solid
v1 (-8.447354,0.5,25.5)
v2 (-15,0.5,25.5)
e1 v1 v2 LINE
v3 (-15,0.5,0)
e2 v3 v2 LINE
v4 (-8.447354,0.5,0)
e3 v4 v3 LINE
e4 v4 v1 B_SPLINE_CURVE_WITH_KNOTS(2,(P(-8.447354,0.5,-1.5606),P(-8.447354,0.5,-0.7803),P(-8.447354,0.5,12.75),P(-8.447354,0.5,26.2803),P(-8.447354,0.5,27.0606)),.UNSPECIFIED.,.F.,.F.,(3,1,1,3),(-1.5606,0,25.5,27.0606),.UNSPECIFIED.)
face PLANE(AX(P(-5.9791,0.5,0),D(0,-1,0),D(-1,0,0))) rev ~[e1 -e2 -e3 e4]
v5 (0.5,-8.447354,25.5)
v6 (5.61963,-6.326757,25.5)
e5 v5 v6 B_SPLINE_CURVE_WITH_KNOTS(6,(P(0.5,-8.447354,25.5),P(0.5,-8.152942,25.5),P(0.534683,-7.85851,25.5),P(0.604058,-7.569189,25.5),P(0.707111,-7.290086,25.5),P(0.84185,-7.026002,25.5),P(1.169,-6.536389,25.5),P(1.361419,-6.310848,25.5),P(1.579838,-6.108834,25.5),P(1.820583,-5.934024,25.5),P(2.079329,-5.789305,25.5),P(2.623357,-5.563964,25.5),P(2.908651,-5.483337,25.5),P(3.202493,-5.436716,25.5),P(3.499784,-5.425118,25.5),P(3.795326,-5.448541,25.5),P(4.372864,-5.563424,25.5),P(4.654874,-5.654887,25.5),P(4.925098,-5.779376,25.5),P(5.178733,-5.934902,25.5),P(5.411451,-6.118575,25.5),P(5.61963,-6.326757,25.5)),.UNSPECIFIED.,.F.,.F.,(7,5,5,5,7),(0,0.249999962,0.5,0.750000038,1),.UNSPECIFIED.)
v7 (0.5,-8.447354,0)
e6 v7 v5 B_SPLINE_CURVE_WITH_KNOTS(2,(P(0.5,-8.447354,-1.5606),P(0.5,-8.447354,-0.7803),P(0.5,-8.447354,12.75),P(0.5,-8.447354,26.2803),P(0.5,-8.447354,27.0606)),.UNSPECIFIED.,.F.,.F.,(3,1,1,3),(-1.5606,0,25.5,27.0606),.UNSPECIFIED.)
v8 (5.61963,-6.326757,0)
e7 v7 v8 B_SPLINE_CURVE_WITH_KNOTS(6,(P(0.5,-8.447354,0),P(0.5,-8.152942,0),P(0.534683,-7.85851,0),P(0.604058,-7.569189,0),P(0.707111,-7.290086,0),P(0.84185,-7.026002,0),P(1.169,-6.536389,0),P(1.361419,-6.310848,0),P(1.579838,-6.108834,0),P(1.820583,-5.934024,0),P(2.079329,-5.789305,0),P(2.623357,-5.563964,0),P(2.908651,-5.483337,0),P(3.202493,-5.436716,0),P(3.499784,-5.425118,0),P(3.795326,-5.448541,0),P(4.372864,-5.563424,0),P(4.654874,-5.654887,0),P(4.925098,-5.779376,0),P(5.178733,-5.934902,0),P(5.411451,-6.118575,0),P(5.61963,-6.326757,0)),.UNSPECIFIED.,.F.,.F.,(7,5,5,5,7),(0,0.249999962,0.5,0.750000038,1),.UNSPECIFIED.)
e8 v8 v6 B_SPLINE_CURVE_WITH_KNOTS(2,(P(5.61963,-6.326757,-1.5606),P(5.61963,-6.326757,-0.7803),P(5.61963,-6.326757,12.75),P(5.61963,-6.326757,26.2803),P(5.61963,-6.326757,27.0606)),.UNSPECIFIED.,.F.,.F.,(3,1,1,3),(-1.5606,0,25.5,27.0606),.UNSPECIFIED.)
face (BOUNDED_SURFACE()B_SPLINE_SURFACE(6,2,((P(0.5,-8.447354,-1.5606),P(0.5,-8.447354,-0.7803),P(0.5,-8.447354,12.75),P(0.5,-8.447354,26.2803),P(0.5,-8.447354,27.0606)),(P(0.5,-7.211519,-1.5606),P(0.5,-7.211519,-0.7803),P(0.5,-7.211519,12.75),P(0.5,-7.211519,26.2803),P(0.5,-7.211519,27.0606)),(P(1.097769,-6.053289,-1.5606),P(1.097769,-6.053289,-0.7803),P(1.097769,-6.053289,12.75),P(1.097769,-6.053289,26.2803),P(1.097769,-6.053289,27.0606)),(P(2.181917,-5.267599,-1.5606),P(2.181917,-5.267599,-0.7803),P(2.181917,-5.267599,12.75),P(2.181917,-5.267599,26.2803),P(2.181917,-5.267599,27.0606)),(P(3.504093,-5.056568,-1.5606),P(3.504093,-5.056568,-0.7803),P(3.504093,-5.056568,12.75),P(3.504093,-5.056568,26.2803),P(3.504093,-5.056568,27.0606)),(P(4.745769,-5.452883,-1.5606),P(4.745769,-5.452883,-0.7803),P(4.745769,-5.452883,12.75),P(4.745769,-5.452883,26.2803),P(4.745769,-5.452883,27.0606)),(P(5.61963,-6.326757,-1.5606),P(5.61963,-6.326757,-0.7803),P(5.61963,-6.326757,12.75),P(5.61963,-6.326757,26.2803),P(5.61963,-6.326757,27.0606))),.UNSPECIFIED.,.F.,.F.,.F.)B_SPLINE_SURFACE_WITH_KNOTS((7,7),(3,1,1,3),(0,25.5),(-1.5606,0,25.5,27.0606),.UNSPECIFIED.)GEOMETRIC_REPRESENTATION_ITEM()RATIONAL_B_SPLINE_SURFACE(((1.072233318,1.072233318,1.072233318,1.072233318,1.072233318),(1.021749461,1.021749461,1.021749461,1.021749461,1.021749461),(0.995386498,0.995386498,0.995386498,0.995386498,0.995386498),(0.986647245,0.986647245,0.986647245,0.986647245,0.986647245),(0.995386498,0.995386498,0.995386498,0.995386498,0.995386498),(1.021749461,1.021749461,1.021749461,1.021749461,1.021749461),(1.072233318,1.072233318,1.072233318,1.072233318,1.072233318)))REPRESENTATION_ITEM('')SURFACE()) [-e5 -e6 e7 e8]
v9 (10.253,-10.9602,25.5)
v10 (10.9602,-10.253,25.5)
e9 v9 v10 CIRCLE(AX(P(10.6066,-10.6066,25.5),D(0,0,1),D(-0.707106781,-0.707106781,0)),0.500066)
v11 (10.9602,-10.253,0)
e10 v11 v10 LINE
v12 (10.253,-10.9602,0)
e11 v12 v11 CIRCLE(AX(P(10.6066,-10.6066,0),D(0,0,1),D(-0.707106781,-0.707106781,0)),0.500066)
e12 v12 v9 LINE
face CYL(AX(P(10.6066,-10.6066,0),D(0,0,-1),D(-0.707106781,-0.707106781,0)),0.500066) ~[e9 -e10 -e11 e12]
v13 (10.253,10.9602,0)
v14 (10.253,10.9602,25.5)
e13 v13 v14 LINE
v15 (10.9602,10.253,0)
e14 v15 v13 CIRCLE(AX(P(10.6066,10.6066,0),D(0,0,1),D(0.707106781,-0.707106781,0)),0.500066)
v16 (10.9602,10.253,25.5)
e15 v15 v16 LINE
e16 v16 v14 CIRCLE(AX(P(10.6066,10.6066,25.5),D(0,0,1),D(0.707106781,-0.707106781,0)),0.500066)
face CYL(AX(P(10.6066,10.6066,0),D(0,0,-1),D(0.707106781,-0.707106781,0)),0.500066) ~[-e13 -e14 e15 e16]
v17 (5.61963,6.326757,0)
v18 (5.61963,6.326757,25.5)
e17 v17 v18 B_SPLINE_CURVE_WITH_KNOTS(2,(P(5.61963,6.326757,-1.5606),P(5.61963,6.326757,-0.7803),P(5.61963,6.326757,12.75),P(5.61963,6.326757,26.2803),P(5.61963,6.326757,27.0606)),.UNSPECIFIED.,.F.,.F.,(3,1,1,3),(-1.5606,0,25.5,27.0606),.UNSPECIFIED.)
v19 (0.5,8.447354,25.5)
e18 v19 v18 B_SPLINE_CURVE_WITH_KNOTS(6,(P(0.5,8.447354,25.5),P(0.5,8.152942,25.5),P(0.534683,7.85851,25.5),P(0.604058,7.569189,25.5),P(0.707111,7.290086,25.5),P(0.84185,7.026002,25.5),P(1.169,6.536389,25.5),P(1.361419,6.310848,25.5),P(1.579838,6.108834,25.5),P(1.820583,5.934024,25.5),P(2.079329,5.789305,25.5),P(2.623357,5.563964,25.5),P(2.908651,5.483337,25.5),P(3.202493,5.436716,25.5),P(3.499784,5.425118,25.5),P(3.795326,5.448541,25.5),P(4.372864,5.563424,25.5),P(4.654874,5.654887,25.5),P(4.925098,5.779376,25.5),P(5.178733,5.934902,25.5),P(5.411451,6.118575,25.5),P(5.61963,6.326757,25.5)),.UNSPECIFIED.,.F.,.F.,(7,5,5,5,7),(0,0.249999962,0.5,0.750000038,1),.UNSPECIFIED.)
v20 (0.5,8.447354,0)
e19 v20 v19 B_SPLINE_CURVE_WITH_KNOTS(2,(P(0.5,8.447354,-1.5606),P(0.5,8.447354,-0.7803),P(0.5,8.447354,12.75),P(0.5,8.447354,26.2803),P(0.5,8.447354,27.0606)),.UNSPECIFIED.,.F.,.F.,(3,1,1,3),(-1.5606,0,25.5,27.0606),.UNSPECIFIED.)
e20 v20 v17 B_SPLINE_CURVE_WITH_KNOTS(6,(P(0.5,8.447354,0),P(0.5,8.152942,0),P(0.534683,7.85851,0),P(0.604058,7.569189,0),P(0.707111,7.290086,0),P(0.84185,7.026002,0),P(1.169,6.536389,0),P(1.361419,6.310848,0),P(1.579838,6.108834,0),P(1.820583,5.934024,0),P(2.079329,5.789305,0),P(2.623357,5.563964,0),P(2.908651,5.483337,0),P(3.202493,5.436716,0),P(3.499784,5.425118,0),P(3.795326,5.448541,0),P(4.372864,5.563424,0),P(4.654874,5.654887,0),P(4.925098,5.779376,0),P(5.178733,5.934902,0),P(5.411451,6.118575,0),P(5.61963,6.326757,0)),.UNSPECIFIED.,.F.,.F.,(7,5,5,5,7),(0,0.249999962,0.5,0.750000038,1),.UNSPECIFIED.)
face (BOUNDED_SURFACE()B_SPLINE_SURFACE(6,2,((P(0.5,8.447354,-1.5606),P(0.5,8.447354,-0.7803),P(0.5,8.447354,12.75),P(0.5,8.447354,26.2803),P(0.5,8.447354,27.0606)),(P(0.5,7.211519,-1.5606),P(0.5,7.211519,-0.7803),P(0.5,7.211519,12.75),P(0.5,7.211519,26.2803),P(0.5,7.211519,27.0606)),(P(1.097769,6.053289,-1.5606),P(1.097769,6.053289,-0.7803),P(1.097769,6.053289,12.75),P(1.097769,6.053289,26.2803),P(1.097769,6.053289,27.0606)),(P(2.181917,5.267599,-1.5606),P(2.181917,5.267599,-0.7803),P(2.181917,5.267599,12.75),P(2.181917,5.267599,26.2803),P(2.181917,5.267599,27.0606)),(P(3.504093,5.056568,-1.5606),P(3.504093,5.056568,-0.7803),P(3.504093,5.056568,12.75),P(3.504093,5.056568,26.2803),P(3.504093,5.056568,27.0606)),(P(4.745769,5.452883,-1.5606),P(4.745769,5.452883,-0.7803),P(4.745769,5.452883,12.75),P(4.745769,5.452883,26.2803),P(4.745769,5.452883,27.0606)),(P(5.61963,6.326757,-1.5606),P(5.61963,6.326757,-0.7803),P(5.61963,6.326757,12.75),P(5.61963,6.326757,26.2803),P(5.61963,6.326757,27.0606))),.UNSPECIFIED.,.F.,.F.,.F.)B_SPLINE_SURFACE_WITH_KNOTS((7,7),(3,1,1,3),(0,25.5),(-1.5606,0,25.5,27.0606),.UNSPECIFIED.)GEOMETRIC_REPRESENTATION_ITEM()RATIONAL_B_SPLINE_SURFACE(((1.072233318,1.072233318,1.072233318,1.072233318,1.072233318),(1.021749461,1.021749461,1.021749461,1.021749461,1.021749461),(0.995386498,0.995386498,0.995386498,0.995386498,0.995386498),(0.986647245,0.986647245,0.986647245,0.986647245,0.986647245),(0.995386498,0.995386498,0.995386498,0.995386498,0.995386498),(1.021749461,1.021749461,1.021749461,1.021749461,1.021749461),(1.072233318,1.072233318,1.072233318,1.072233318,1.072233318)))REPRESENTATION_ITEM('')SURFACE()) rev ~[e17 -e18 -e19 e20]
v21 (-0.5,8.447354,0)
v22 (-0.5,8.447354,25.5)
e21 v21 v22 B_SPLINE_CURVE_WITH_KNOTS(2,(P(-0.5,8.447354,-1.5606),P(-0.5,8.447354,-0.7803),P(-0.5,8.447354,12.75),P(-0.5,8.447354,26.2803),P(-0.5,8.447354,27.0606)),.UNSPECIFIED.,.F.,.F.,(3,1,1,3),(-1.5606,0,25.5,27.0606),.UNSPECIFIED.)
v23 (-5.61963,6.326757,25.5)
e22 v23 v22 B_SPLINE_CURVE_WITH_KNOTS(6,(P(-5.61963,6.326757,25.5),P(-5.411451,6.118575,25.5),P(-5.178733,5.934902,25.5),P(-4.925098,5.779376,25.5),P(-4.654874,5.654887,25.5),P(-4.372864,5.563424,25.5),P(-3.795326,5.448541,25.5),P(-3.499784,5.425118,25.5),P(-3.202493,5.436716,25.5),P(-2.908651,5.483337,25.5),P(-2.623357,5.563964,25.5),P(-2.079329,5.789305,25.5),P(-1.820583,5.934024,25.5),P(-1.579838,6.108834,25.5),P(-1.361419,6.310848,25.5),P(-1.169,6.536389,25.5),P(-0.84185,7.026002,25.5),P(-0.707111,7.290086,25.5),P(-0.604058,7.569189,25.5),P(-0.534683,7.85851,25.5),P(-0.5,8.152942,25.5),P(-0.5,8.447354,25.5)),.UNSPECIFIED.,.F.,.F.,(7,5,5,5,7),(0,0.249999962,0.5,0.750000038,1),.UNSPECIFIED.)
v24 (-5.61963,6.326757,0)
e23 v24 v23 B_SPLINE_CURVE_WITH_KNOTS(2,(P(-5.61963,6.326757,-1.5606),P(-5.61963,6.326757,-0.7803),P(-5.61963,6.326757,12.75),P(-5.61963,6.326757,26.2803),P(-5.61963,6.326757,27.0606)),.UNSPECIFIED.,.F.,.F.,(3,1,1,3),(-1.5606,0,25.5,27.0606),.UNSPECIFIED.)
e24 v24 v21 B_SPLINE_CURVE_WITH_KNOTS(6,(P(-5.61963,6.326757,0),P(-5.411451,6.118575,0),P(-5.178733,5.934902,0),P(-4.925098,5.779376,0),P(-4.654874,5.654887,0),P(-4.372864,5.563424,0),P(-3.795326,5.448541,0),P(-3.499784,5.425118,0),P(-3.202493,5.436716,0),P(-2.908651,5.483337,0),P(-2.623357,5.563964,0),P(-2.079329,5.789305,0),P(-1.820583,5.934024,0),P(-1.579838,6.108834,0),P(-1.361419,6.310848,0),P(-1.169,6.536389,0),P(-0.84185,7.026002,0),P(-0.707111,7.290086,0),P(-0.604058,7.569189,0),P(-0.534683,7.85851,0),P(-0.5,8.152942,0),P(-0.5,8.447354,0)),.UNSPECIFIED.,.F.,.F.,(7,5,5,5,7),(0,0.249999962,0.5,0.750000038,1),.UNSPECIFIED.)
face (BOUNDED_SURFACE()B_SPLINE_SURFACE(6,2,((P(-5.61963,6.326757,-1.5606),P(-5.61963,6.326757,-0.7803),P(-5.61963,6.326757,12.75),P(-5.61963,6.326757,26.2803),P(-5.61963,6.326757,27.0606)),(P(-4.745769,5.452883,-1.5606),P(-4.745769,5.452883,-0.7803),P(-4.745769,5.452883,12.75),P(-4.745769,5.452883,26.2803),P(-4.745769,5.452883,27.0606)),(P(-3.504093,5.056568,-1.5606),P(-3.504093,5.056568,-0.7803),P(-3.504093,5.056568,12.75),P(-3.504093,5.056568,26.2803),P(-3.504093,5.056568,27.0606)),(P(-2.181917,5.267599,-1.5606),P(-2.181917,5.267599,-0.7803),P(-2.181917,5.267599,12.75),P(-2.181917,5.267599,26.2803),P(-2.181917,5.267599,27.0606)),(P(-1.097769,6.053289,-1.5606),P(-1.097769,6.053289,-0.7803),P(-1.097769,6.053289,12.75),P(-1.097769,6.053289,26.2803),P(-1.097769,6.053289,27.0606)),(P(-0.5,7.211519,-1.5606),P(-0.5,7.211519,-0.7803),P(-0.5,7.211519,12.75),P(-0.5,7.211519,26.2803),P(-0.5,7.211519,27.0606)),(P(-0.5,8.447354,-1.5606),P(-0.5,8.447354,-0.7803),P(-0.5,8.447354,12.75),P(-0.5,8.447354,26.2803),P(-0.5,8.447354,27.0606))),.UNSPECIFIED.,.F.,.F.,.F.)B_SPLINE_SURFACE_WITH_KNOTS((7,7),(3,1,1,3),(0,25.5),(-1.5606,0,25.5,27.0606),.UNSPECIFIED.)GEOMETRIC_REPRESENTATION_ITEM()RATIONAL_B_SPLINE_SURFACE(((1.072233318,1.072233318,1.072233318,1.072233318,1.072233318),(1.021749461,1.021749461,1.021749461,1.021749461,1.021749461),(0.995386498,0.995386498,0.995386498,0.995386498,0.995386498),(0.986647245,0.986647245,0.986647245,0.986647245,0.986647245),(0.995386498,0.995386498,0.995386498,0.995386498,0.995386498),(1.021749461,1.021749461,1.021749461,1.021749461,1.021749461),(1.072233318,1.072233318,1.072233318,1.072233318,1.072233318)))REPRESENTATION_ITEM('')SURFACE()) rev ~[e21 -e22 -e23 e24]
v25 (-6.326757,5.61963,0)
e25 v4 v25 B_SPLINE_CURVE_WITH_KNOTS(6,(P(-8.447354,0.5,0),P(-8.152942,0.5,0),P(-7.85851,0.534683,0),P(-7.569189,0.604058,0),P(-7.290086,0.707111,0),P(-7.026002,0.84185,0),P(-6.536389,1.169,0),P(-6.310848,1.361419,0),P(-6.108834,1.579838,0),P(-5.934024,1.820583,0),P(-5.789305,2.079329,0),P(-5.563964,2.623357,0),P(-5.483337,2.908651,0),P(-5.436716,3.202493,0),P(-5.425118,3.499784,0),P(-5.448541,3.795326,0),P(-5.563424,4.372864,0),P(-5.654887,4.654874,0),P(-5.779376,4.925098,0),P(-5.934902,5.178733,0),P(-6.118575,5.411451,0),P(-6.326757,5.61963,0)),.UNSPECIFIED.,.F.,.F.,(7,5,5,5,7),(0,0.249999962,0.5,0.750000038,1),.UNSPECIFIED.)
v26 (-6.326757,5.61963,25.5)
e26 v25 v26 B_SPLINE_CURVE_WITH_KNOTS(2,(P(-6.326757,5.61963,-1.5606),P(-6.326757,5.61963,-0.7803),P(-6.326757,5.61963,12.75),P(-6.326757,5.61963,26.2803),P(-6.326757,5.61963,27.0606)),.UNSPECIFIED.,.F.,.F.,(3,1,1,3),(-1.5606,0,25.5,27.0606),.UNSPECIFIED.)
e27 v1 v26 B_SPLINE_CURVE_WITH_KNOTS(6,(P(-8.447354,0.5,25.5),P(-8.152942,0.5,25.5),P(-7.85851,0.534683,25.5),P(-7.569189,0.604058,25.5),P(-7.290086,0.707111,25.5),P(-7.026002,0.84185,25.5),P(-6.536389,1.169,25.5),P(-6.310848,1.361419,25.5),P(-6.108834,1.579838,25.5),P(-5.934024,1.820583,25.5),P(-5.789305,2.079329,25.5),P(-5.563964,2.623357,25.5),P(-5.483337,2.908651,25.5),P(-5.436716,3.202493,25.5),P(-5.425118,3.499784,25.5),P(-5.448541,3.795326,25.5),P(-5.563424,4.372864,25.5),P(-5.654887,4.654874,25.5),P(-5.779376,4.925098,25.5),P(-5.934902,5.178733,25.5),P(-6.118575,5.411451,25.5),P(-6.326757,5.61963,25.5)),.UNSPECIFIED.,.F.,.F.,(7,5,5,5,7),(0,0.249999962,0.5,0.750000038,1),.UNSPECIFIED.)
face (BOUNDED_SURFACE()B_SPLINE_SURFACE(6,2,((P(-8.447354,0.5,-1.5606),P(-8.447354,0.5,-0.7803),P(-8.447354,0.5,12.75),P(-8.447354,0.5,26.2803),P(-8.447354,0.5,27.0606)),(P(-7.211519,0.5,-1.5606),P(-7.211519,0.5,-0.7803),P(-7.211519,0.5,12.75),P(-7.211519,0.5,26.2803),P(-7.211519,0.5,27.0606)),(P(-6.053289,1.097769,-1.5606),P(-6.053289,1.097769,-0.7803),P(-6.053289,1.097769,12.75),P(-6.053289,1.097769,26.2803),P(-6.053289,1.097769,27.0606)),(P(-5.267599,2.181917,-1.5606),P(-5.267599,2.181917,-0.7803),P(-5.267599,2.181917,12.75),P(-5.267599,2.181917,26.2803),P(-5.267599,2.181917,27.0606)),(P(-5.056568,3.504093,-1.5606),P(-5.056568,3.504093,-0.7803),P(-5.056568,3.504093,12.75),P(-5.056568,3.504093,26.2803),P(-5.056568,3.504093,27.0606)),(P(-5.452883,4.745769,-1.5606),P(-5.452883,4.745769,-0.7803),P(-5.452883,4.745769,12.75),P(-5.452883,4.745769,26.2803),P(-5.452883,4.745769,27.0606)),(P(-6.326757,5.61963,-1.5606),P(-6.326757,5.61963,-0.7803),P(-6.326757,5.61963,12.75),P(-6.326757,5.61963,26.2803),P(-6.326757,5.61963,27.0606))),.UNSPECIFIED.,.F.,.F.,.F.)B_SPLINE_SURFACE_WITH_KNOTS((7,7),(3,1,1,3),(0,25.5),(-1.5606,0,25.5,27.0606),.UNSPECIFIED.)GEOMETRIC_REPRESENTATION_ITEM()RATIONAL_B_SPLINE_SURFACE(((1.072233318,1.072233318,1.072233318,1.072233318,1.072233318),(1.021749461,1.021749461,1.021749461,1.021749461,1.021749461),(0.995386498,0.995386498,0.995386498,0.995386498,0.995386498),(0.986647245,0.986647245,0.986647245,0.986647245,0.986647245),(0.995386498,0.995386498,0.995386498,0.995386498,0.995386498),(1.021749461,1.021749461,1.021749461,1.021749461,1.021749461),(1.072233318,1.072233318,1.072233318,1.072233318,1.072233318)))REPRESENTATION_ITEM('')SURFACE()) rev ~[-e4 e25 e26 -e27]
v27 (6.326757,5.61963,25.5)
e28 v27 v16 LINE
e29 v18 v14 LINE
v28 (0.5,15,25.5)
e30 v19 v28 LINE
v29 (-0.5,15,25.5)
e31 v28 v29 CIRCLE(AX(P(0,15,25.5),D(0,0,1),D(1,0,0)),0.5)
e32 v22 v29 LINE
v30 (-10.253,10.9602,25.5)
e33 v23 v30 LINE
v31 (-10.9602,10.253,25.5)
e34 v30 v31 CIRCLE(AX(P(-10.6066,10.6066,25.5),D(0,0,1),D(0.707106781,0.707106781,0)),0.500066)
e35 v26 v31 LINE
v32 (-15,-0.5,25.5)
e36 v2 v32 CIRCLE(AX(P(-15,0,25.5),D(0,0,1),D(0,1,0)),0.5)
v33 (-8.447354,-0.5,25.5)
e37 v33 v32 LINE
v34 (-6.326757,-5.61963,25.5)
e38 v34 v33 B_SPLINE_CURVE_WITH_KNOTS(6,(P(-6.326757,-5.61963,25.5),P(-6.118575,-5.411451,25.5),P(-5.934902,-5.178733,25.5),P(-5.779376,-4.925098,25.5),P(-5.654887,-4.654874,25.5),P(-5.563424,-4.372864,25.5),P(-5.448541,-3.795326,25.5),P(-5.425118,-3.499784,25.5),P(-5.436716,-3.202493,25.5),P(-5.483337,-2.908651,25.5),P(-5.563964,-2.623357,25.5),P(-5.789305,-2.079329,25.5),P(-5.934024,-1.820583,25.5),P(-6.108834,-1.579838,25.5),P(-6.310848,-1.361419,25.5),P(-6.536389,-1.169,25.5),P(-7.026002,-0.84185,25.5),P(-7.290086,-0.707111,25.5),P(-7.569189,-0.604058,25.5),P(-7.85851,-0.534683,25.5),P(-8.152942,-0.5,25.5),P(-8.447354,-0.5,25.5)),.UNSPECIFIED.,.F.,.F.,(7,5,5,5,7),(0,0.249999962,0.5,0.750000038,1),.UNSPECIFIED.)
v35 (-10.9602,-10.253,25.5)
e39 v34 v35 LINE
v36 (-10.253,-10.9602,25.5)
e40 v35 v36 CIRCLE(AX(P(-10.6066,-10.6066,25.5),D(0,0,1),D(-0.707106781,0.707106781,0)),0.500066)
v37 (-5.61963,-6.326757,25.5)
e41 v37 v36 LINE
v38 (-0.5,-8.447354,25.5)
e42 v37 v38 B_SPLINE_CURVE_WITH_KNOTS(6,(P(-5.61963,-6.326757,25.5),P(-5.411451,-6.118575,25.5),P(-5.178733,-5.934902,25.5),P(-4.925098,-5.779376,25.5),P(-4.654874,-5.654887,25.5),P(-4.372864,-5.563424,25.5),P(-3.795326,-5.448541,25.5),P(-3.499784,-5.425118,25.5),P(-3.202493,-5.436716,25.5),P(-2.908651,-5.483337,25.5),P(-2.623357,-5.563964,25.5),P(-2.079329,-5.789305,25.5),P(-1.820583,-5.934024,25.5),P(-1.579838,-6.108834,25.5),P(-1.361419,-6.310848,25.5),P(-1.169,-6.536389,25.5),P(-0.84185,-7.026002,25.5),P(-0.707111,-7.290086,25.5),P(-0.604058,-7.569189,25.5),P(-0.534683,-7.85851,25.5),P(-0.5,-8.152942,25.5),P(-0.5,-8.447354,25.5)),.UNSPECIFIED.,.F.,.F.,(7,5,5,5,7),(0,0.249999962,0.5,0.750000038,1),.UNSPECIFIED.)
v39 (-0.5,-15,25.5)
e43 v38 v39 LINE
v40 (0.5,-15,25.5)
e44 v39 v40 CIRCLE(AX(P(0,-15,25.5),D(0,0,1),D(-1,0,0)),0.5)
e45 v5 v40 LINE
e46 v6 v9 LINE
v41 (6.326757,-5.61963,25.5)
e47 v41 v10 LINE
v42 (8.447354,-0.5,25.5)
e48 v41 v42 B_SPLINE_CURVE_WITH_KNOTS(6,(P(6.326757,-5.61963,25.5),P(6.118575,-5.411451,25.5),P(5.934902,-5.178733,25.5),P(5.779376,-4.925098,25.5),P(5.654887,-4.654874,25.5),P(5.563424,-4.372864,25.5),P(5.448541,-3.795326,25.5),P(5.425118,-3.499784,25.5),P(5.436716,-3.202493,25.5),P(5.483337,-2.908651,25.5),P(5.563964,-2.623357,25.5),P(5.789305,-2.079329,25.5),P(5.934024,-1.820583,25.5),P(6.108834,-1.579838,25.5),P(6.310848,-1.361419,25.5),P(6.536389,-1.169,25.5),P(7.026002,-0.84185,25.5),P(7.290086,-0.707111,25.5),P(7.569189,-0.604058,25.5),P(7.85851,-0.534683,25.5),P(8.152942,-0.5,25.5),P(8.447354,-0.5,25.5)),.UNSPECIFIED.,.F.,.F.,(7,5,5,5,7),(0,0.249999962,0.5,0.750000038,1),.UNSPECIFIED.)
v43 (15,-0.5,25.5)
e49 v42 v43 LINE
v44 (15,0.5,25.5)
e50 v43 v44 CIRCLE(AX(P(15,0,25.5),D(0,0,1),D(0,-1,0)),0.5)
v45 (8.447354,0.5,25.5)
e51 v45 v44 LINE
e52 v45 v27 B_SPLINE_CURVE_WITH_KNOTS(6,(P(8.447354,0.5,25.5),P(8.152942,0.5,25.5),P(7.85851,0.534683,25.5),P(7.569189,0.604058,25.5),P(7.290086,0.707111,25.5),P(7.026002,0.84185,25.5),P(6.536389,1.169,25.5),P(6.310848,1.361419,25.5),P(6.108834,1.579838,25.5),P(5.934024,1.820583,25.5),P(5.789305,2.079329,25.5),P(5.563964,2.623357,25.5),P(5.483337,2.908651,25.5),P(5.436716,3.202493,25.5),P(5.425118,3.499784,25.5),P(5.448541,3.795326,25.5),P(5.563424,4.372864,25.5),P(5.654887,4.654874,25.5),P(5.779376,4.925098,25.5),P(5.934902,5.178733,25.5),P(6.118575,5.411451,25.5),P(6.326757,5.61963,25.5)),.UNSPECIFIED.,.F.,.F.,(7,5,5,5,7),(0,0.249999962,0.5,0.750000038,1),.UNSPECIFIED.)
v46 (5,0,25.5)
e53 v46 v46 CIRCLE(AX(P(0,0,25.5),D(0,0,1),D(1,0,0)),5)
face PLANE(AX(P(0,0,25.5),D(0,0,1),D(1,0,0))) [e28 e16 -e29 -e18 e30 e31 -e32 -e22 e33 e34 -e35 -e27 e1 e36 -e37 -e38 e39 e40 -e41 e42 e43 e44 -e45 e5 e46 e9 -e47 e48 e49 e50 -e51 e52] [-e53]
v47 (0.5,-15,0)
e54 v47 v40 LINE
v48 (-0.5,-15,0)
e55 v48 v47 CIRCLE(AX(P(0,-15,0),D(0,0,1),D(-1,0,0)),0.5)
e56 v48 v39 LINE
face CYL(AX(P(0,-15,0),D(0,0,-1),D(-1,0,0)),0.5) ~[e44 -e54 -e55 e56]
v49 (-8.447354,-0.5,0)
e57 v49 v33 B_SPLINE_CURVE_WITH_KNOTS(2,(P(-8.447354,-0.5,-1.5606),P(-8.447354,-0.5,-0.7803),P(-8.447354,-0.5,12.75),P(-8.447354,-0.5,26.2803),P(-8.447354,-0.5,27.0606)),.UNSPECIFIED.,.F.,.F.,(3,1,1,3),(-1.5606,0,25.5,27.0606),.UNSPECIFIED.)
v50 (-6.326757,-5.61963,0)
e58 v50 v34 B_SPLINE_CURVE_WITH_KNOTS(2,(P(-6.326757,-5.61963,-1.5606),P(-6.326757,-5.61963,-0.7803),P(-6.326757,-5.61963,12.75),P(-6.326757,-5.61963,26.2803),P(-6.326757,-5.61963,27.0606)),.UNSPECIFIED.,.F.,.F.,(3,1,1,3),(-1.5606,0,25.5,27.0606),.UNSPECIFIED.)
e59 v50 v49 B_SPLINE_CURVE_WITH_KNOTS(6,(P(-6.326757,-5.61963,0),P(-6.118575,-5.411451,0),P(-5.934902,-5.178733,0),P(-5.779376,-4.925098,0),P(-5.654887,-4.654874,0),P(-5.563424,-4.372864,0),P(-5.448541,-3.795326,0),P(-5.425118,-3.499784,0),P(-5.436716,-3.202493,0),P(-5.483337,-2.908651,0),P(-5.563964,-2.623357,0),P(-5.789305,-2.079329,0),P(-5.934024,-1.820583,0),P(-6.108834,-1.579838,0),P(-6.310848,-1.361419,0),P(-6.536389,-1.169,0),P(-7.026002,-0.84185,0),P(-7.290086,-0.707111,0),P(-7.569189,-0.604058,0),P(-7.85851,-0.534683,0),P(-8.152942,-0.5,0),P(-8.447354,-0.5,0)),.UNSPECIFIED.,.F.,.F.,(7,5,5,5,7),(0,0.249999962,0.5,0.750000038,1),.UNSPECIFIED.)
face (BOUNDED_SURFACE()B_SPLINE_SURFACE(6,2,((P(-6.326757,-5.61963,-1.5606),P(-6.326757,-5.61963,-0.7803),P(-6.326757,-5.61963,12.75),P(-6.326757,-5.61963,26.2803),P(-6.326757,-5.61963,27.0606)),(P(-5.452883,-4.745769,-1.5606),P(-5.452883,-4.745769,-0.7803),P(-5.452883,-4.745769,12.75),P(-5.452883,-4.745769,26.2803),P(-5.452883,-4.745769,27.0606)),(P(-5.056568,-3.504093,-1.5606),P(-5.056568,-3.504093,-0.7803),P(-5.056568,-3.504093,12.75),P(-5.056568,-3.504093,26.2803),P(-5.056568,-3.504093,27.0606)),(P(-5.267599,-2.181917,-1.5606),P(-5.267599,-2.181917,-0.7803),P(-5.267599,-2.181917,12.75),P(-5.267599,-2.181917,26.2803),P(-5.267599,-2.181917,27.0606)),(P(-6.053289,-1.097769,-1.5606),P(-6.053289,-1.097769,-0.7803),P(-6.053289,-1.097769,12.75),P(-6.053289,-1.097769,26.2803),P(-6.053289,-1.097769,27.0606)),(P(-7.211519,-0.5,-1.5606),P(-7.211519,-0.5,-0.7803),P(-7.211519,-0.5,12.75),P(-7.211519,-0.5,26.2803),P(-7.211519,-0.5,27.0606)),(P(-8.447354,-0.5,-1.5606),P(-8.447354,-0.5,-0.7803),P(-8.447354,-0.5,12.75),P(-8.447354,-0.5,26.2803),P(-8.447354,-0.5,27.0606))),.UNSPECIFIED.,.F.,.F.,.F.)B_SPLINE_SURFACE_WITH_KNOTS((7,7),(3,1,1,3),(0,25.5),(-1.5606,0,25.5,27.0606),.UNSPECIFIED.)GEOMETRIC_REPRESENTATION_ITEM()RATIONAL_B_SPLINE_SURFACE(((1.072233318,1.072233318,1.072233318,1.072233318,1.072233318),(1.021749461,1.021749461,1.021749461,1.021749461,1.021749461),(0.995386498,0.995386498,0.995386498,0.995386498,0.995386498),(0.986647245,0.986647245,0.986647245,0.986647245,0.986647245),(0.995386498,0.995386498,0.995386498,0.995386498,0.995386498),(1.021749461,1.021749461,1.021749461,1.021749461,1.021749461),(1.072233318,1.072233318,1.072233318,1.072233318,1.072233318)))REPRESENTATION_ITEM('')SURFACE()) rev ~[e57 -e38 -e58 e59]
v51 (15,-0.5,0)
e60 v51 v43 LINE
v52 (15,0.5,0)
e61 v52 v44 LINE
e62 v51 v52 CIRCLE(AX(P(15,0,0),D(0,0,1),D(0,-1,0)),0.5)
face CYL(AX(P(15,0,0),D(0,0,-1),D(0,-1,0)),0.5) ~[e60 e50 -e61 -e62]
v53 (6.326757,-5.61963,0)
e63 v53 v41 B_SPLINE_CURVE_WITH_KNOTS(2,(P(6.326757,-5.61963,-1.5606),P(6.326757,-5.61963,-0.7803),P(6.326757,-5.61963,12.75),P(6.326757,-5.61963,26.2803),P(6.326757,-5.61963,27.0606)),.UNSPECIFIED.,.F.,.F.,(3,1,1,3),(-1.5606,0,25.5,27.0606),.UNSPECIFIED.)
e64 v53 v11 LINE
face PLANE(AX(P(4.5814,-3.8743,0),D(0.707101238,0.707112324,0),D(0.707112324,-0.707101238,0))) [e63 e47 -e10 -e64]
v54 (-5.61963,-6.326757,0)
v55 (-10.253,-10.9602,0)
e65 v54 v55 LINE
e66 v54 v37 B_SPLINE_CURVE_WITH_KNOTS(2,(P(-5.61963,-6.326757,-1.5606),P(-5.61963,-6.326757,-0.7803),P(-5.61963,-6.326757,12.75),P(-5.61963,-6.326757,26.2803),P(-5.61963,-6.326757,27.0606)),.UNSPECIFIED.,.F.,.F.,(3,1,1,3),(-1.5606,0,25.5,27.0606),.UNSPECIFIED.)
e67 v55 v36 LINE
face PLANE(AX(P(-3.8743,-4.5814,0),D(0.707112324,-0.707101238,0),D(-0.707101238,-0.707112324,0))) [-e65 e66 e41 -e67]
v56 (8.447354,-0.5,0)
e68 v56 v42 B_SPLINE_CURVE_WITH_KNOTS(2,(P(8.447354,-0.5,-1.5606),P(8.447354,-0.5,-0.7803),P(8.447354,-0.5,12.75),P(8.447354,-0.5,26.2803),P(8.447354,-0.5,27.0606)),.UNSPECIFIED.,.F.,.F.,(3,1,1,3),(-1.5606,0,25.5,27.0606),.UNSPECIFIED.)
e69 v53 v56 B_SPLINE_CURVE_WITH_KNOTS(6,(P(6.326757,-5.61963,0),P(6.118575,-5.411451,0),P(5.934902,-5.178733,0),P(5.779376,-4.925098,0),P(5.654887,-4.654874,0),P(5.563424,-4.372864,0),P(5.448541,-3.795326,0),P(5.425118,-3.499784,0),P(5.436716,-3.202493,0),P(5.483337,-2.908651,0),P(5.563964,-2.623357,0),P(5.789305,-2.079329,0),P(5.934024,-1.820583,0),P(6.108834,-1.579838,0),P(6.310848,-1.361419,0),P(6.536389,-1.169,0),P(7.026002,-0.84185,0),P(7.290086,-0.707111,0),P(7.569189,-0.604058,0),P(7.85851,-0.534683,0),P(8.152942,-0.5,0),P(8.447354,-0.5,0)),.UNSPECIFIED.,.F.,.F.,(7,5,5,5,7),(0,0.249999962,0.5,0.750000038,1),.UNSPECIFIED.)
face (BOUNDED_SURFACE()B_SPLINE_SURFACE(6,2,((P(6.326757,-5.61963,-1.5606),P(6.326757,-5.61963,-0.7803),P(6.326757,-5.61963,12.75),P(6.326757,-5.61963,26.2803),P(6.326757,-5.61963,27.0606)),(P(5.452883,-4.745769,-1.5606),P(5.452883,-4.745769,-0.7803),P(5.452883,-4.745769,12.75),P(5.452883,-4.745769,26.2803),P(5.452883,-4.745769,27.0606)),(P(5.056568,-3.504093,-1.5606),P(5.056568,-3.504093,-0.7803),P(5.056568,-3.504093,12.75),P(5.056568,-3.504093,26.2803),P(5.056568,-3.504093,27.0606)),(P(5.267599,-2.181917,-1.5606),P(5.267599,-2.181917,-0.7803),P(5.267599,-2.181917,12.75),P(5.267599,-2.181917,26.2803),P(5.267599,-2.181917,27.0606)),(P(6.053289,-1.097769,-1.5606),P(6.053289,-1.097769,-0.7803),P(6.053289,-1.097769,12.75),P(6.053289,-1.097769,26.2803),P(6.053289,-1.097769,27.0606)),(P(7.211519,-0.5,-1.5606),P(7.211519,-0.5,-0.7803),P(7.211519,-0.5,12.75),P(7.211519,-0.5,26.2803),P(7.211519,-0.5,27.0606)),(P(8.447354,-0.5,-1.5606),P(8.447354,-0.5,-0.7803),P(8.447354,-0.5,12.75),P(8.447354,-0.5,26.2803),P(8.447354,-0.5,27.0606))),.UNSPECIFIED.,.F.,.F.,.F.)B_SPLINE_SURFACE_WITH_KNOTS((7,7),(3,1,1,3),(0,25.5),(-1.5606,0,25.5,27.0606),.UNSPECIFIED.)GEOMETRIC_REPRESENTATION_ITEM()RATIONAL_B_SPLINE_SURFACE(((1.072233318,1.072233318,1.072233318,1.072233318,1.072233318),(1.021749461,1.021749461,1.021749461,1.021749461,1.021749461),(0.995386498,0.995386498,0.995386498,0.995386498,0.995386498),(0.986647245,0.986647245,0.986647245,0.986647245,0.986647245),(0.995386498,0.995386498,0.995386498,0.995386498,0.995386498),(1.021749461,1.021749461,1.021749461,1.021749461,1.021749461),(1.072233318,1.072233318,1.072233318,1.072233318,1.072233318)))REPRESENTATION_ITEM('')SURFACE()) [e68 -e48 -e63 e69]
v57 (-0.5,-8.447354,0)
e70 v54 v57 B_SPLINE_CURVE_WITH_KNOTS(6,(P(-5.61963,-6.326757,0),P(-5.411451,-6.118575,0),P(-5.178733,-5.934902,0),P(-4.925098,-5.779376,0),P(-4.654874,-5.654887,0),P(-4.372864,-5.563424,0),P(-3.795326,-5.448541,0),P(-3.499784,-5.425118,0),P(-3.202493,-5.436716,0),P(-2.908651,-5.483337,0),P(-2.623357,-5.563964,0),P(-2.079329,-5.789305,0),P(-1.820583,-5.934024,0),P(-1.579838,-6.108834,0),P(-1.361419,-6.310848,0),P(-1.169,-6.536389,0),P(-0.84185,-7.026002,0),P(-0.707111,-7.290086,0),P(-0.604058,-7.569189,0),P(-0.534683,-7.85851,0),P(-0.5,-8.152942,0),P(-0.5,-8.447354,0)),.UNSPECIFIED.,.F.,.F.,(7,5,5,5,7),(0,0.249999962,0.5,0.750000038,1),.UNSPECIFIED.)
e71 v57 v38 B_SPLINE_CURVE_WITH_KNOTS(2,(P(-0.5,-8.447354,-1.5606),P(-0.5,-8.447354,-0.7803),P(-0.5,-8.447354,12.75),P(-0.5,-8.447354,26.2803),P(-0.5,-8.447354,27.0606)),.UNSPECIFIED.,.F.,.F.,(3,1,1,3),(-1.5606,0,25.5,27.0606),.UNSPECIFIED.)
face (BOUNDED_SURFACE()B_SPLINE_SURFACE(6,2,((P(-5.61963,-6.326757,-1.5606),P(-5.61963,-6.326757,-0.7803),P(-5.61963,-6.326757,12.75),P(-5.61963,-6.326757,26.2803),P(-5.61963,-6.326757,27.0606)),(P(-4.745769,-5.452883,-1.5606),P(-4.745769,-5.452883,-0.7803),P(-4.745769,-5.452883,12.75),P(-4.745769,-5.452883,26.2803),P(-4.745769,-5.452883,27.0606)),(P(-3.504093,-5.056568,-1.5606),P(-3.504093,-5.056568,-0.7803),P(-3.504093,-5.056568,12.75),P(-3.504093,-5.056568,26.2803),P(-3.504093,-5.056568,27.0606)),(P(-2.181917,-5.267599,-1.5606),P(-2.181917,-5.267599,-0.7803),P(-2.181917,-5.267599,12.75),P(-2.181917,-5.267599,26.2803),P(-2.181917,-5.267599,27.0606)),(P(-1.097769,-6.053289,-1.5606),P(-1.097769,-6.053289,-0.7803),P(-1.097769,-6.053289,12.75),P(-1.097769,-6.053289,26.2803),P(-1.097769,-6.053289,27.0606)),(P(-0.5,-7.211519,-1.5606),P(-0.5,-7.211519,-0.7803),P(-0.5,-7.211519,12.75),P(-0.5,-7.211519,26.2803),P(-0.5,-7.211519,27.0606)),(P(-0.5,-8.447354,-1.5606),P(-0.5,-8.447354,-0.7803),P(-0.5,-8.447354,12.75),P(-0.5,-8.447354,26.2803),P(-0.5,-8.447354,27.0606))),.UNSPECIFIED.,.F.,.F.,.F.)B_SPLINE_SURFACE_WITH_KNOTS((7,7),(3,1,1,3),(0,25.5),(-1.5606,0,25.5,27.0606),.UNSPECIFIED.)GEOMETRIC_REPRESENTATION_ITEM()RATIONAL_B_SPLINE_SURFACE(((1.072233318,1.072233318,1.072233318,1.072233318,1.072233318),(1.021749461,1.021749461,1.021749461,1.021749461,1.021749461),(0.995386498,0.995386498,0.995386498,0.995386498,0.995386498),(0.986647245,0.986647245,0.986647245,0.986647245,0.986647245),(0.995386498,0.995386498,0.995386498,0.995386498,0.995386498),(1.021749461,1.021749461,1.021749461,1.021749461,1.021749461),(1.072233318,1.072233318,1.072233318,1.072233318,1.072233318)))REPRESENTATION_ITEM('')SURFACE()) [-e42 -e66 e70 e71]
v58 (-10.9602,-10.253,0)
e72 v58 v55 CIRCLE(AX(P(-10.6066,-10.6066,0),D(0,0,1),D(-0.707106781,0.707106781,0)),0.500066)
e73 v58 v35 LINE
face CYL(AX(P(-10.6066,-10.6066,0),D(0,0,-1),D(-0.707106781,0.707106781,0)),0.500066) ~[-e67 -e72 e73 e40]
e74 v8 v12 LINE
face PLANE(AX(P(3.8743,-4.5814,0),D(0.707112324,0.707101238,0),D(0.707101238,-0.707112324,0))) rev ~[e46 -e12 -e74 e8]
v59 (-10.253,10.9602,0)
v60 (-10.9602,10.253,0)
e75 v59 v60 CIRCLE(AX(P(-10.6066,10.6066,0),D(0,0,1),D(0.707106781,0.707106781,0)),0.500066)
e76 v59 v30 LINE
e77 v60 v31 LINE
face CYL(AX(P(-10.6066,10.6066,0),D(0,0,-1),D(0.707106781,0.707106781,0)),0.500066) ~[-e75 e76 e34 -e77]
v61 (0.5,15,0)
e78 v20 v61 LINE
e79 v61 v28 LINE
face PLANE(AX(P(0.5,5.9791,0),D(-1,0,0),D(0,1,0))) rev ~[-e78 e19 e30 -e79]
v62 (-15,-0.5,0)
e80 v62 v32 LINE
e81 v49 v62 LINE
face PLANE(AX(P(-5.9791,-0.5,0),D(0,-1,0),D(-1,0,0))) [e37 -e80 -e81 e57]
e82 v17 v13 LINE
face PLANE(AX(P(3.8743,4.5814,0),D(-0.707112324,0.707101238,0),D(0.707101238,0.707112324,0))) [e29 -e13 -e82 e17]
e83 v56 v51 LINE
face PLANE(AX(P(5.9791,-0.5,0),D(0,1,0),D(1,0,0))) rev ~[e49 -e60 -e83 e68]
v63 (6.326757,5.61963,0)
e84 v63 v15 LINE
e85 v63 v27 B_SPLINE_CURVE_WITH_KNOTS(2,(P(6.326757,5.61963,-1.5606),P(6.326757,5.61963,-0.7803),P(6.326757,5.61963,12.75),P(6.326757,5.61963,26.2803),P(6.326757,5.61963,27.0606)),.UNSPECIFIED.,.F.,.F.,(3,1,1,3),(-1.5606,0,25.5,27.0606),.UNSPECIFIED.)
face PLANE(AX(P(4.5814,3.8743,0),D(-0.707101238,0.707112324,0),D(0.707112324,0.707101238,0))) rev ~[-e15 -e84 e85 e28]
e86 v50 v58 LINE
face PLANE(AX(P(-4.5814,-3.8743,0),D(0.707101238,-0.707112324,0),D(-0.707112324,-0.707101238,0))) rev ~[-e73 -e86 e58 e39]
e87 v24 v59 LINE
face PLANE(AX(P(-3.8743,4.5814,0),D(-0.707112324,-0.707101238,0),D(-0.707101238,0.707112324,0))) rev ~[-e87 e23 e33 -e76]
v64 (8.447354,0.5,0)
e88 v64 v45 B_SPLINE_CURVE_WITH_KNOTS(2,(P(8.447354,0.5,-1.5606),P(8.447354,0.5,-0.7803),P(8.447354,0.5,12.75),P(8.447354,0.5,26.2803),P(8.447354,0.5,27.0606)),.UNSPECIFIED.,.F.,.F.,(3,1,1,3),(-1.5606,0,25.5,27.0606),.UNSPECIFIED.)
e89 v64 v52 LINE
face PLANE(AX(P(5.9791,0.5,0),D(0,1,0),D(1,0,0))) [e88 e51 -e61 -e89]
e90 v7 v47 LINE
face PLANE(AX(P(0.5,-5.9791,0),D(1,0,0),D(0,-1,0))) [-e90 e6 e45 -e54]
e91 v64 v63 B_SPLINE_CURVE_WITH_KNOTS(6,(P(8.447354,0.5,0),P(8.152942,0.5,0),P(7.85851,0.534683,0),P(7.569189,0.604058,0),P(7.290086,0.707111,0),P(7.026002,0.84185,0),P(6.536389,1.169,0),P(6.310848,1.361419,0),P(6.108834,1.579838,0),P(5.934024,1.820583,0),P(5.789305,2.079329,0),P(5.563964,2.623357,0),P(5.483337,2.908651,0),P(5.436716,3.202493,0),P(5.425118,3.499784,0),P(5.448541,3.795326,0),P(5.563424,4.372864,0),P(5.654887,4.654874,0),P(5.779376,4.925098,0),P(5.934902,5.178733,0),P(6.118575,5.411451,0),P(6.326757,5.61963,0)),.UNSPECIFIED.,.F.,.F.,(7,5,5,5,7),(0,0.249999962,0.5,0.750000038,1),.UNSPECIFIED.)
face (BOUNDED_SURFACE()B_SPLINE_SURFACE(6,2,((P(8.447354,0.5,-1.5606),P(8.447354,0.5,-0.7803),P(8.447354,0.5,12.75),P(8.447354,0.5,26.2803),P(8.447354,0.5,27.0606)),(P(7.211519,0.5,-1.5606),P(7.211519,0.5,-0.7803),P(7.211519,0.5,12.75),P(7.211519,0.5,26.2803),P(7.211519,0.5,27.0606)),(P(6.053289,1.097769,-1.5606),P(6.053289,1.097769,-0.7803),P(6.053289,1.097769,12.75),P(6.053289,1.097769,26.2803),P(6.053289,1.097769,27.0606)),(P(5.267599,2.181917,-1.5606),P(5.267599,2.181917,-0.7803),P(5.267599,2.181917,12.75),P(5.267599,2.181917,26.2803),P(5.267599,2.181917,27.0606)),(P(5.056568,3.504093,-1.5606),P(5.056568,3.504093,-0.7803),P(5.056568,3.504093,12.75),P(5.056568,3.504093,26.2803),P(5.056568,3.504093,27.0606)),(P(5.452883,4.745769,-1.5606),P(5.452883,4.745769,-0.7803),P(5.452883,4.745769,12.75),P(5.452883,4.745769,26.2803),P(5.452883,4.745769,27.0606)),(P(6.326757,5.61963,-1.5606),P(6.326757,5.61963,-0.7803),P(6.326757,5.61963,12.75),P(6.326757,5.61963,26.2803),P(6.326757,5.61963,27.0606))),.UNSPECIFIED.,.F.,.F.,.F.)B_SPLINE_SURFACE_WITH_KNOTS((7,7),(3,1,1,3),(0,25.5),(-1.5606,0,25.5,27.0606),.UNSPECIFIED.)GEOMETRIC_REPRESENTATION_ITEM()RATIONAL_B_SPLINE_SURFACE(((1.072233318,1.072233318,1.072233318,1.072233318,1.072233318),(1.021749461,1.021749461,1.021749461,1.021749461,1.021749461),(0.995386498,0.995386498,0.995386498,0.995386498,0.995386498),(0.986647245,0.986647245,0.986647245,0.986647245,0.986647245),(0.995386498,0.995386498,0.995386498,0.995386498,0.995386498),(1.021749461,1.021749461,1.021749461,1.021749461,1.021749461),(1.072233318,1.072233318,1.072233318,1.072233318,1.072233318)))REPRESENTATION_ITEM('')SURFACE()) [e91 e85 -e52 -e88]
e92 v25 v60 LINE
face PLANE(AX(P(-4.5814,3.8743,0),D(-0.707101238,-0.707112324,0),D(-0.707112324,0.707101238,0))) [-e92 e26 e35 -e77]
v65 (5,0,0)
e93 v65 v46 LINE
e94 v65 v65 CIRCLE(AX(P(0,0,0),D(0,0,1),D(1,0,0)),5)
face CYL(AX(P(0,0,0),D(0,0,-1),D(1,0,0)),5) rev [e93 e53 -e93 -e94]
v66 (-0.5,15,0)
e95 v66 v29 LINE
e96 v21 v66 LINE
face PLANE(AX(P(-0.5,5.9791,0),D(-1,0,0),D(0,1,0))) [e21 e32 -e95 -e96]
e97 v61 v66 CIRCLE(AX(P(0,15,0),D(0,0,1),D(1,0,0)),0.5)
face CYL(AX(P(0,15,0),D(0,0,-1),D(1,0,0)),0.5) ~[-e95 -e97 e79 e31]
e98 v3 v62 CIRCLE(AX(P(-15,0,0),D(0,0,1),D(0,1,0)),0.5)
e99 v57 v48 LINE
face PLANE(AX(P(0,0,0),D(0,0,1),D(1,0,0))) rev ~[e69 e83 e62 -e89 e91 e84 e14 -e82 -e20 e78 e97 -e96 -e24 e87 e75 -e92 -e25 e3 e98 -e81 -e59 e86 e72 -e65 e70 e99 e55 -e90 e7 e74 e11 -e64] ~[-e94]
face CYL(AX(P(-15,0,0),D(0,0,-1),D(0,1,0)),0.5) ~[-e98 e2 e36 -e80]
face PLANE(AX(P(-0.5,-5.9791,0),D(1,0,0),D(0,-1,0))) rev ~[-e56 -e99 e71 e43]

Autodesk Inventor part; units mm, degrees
ref_plane "YZ Plane" through (0, 0, 0) normal (1, 0, 0) x (0, 1, 0)
ref_plane "XZ Plane" through (0, 0, 0) normal (0, 1, 0) x (-1, 0, 0)
ref_plane "XY Plane" through (0, 0, 0) normal (0, 0, 1) x (1, 0, 0)
sketch "Sketch1" plane through (0, 0, 0) normal (0, 0, 1) x (1, 0, 0)
  circle A0 centre (0, 0) radius 5
  circle A1 centre (0, 0) radius 6
  line L0 (5.9791, 0.5) -> (15, 0.5)
  line L1 (5.9791, -0.5) -> (15, -0.5)
  arc A2 (15, -0.5) -> (15, 0.5) centre (15, 0) ccw
  line L2 (0, 0) -> (15, 0) construction
  line L3 (3.8743, 4.5814) -> (10.253, 10.9602)
  arc A3 (10.9602, 10.253) -> (10.253, 10.9602) centre (10.6066, 10.6066) ccw
  line L4 (4.5814, 3.8743) -> (10.9602, 10.253)
  line L5 (-0.5, 5.9791) -> (-0.5, 15)
  arc A4 (0.5, 15) -> (-0.5, 15) centre (0, 15) ccw
  line L6 (0.5, 5.9791) -> (0.5, 15)
  line L7 (-4.5814, 3.8743) -> (-10.9602, 10.253)
  arc A5 (-10.253, 10.9602) -> (-10.9602, 10.253) centre (-10.6066, 10.6066) ccw
  line L8 (-3.8743, 4.5814) -> (-10.253, 10.9602)
  line L9 (-5.9791, -0.5) -> (-15, -0.5)
  arc A6 (-15, 0.5) -> (-15, -0.5) centre (-15, 0) ccw
  line L10 (-5.9791, 0.5) -> (-15, 0.5)
  circle A7 centre (0, 0) radius 15.5 construction
  line L11 (-3.8743, -4.5814) -> (-10.253, -10.9602)
  arc A8 (-10.9602, -10.253) -> (-10.253, -10.9602) centre (-10.6066, -10.6066) ccw
  line L12 (-4.5814, -3.8743) -> (-10.9602, -10.253)
  line L13 (0.5, -5.9791) -> (0.5, -15)
  arc A9 (-0.5, -15) -> (0.5, -15) centre (0, -15) ccw
  line L14 (-0.5, -5.9791) -> (-0.5, -15)
  line L15 (4.5814, -3.8743) -> (10.9602, -10.253)
  arc A10 (10.253, -10.9602) -> (10.9602, -10.253) centre (10.6066, -10.6066) ccw
  line L16 (3.8743, -4.5814) -> (10.253, -10.9602)
  point P0 (-4.5814, 3.8743)
  point P1 (4.5814, 3.8743)
  point P2 (3.8743, 4.5814)
  point P3 (-3.8743, -4.5814)
  point P4 (-4.5814, -3.8743)
  dimension "d0" = 10
  dimension "d1" = 1
  dimension "d2" = 1
  dimension "d5" = 15
  dimension "d8" = 360
  dimension "d13" = 31
extrude "Extrusion1" add sketch "Sketch1" along normal blind 25.5
fillet "Fillet1" radius 3 16 edges at (5.9791, 0.5, 12.75) (4.5814, 3.8743, 12.75) (-0.5, 5.9791, 12.75) (5.9791, -0.5, 12.75) (-5.9791, 0.5, 12.75) (-5.9791, -0.5, 12.75) (-4.5814, 3.8743, 12.75) (-3.8743, 4.5814, 12.75) (0.5, 5.9791, 12.75) (3.8743, 4.5814, 12.75) (-3.8743, -4.5814, 12.75) (-4.5814, -3.8743, 12.75) (-0.5, -5.9791, 12.75) (0.5, -5.9791, 12.75) (3.8743, -4.5814, 12.75) (4.5814, -3.8743, 12.75)
properties part number "Valvula"
